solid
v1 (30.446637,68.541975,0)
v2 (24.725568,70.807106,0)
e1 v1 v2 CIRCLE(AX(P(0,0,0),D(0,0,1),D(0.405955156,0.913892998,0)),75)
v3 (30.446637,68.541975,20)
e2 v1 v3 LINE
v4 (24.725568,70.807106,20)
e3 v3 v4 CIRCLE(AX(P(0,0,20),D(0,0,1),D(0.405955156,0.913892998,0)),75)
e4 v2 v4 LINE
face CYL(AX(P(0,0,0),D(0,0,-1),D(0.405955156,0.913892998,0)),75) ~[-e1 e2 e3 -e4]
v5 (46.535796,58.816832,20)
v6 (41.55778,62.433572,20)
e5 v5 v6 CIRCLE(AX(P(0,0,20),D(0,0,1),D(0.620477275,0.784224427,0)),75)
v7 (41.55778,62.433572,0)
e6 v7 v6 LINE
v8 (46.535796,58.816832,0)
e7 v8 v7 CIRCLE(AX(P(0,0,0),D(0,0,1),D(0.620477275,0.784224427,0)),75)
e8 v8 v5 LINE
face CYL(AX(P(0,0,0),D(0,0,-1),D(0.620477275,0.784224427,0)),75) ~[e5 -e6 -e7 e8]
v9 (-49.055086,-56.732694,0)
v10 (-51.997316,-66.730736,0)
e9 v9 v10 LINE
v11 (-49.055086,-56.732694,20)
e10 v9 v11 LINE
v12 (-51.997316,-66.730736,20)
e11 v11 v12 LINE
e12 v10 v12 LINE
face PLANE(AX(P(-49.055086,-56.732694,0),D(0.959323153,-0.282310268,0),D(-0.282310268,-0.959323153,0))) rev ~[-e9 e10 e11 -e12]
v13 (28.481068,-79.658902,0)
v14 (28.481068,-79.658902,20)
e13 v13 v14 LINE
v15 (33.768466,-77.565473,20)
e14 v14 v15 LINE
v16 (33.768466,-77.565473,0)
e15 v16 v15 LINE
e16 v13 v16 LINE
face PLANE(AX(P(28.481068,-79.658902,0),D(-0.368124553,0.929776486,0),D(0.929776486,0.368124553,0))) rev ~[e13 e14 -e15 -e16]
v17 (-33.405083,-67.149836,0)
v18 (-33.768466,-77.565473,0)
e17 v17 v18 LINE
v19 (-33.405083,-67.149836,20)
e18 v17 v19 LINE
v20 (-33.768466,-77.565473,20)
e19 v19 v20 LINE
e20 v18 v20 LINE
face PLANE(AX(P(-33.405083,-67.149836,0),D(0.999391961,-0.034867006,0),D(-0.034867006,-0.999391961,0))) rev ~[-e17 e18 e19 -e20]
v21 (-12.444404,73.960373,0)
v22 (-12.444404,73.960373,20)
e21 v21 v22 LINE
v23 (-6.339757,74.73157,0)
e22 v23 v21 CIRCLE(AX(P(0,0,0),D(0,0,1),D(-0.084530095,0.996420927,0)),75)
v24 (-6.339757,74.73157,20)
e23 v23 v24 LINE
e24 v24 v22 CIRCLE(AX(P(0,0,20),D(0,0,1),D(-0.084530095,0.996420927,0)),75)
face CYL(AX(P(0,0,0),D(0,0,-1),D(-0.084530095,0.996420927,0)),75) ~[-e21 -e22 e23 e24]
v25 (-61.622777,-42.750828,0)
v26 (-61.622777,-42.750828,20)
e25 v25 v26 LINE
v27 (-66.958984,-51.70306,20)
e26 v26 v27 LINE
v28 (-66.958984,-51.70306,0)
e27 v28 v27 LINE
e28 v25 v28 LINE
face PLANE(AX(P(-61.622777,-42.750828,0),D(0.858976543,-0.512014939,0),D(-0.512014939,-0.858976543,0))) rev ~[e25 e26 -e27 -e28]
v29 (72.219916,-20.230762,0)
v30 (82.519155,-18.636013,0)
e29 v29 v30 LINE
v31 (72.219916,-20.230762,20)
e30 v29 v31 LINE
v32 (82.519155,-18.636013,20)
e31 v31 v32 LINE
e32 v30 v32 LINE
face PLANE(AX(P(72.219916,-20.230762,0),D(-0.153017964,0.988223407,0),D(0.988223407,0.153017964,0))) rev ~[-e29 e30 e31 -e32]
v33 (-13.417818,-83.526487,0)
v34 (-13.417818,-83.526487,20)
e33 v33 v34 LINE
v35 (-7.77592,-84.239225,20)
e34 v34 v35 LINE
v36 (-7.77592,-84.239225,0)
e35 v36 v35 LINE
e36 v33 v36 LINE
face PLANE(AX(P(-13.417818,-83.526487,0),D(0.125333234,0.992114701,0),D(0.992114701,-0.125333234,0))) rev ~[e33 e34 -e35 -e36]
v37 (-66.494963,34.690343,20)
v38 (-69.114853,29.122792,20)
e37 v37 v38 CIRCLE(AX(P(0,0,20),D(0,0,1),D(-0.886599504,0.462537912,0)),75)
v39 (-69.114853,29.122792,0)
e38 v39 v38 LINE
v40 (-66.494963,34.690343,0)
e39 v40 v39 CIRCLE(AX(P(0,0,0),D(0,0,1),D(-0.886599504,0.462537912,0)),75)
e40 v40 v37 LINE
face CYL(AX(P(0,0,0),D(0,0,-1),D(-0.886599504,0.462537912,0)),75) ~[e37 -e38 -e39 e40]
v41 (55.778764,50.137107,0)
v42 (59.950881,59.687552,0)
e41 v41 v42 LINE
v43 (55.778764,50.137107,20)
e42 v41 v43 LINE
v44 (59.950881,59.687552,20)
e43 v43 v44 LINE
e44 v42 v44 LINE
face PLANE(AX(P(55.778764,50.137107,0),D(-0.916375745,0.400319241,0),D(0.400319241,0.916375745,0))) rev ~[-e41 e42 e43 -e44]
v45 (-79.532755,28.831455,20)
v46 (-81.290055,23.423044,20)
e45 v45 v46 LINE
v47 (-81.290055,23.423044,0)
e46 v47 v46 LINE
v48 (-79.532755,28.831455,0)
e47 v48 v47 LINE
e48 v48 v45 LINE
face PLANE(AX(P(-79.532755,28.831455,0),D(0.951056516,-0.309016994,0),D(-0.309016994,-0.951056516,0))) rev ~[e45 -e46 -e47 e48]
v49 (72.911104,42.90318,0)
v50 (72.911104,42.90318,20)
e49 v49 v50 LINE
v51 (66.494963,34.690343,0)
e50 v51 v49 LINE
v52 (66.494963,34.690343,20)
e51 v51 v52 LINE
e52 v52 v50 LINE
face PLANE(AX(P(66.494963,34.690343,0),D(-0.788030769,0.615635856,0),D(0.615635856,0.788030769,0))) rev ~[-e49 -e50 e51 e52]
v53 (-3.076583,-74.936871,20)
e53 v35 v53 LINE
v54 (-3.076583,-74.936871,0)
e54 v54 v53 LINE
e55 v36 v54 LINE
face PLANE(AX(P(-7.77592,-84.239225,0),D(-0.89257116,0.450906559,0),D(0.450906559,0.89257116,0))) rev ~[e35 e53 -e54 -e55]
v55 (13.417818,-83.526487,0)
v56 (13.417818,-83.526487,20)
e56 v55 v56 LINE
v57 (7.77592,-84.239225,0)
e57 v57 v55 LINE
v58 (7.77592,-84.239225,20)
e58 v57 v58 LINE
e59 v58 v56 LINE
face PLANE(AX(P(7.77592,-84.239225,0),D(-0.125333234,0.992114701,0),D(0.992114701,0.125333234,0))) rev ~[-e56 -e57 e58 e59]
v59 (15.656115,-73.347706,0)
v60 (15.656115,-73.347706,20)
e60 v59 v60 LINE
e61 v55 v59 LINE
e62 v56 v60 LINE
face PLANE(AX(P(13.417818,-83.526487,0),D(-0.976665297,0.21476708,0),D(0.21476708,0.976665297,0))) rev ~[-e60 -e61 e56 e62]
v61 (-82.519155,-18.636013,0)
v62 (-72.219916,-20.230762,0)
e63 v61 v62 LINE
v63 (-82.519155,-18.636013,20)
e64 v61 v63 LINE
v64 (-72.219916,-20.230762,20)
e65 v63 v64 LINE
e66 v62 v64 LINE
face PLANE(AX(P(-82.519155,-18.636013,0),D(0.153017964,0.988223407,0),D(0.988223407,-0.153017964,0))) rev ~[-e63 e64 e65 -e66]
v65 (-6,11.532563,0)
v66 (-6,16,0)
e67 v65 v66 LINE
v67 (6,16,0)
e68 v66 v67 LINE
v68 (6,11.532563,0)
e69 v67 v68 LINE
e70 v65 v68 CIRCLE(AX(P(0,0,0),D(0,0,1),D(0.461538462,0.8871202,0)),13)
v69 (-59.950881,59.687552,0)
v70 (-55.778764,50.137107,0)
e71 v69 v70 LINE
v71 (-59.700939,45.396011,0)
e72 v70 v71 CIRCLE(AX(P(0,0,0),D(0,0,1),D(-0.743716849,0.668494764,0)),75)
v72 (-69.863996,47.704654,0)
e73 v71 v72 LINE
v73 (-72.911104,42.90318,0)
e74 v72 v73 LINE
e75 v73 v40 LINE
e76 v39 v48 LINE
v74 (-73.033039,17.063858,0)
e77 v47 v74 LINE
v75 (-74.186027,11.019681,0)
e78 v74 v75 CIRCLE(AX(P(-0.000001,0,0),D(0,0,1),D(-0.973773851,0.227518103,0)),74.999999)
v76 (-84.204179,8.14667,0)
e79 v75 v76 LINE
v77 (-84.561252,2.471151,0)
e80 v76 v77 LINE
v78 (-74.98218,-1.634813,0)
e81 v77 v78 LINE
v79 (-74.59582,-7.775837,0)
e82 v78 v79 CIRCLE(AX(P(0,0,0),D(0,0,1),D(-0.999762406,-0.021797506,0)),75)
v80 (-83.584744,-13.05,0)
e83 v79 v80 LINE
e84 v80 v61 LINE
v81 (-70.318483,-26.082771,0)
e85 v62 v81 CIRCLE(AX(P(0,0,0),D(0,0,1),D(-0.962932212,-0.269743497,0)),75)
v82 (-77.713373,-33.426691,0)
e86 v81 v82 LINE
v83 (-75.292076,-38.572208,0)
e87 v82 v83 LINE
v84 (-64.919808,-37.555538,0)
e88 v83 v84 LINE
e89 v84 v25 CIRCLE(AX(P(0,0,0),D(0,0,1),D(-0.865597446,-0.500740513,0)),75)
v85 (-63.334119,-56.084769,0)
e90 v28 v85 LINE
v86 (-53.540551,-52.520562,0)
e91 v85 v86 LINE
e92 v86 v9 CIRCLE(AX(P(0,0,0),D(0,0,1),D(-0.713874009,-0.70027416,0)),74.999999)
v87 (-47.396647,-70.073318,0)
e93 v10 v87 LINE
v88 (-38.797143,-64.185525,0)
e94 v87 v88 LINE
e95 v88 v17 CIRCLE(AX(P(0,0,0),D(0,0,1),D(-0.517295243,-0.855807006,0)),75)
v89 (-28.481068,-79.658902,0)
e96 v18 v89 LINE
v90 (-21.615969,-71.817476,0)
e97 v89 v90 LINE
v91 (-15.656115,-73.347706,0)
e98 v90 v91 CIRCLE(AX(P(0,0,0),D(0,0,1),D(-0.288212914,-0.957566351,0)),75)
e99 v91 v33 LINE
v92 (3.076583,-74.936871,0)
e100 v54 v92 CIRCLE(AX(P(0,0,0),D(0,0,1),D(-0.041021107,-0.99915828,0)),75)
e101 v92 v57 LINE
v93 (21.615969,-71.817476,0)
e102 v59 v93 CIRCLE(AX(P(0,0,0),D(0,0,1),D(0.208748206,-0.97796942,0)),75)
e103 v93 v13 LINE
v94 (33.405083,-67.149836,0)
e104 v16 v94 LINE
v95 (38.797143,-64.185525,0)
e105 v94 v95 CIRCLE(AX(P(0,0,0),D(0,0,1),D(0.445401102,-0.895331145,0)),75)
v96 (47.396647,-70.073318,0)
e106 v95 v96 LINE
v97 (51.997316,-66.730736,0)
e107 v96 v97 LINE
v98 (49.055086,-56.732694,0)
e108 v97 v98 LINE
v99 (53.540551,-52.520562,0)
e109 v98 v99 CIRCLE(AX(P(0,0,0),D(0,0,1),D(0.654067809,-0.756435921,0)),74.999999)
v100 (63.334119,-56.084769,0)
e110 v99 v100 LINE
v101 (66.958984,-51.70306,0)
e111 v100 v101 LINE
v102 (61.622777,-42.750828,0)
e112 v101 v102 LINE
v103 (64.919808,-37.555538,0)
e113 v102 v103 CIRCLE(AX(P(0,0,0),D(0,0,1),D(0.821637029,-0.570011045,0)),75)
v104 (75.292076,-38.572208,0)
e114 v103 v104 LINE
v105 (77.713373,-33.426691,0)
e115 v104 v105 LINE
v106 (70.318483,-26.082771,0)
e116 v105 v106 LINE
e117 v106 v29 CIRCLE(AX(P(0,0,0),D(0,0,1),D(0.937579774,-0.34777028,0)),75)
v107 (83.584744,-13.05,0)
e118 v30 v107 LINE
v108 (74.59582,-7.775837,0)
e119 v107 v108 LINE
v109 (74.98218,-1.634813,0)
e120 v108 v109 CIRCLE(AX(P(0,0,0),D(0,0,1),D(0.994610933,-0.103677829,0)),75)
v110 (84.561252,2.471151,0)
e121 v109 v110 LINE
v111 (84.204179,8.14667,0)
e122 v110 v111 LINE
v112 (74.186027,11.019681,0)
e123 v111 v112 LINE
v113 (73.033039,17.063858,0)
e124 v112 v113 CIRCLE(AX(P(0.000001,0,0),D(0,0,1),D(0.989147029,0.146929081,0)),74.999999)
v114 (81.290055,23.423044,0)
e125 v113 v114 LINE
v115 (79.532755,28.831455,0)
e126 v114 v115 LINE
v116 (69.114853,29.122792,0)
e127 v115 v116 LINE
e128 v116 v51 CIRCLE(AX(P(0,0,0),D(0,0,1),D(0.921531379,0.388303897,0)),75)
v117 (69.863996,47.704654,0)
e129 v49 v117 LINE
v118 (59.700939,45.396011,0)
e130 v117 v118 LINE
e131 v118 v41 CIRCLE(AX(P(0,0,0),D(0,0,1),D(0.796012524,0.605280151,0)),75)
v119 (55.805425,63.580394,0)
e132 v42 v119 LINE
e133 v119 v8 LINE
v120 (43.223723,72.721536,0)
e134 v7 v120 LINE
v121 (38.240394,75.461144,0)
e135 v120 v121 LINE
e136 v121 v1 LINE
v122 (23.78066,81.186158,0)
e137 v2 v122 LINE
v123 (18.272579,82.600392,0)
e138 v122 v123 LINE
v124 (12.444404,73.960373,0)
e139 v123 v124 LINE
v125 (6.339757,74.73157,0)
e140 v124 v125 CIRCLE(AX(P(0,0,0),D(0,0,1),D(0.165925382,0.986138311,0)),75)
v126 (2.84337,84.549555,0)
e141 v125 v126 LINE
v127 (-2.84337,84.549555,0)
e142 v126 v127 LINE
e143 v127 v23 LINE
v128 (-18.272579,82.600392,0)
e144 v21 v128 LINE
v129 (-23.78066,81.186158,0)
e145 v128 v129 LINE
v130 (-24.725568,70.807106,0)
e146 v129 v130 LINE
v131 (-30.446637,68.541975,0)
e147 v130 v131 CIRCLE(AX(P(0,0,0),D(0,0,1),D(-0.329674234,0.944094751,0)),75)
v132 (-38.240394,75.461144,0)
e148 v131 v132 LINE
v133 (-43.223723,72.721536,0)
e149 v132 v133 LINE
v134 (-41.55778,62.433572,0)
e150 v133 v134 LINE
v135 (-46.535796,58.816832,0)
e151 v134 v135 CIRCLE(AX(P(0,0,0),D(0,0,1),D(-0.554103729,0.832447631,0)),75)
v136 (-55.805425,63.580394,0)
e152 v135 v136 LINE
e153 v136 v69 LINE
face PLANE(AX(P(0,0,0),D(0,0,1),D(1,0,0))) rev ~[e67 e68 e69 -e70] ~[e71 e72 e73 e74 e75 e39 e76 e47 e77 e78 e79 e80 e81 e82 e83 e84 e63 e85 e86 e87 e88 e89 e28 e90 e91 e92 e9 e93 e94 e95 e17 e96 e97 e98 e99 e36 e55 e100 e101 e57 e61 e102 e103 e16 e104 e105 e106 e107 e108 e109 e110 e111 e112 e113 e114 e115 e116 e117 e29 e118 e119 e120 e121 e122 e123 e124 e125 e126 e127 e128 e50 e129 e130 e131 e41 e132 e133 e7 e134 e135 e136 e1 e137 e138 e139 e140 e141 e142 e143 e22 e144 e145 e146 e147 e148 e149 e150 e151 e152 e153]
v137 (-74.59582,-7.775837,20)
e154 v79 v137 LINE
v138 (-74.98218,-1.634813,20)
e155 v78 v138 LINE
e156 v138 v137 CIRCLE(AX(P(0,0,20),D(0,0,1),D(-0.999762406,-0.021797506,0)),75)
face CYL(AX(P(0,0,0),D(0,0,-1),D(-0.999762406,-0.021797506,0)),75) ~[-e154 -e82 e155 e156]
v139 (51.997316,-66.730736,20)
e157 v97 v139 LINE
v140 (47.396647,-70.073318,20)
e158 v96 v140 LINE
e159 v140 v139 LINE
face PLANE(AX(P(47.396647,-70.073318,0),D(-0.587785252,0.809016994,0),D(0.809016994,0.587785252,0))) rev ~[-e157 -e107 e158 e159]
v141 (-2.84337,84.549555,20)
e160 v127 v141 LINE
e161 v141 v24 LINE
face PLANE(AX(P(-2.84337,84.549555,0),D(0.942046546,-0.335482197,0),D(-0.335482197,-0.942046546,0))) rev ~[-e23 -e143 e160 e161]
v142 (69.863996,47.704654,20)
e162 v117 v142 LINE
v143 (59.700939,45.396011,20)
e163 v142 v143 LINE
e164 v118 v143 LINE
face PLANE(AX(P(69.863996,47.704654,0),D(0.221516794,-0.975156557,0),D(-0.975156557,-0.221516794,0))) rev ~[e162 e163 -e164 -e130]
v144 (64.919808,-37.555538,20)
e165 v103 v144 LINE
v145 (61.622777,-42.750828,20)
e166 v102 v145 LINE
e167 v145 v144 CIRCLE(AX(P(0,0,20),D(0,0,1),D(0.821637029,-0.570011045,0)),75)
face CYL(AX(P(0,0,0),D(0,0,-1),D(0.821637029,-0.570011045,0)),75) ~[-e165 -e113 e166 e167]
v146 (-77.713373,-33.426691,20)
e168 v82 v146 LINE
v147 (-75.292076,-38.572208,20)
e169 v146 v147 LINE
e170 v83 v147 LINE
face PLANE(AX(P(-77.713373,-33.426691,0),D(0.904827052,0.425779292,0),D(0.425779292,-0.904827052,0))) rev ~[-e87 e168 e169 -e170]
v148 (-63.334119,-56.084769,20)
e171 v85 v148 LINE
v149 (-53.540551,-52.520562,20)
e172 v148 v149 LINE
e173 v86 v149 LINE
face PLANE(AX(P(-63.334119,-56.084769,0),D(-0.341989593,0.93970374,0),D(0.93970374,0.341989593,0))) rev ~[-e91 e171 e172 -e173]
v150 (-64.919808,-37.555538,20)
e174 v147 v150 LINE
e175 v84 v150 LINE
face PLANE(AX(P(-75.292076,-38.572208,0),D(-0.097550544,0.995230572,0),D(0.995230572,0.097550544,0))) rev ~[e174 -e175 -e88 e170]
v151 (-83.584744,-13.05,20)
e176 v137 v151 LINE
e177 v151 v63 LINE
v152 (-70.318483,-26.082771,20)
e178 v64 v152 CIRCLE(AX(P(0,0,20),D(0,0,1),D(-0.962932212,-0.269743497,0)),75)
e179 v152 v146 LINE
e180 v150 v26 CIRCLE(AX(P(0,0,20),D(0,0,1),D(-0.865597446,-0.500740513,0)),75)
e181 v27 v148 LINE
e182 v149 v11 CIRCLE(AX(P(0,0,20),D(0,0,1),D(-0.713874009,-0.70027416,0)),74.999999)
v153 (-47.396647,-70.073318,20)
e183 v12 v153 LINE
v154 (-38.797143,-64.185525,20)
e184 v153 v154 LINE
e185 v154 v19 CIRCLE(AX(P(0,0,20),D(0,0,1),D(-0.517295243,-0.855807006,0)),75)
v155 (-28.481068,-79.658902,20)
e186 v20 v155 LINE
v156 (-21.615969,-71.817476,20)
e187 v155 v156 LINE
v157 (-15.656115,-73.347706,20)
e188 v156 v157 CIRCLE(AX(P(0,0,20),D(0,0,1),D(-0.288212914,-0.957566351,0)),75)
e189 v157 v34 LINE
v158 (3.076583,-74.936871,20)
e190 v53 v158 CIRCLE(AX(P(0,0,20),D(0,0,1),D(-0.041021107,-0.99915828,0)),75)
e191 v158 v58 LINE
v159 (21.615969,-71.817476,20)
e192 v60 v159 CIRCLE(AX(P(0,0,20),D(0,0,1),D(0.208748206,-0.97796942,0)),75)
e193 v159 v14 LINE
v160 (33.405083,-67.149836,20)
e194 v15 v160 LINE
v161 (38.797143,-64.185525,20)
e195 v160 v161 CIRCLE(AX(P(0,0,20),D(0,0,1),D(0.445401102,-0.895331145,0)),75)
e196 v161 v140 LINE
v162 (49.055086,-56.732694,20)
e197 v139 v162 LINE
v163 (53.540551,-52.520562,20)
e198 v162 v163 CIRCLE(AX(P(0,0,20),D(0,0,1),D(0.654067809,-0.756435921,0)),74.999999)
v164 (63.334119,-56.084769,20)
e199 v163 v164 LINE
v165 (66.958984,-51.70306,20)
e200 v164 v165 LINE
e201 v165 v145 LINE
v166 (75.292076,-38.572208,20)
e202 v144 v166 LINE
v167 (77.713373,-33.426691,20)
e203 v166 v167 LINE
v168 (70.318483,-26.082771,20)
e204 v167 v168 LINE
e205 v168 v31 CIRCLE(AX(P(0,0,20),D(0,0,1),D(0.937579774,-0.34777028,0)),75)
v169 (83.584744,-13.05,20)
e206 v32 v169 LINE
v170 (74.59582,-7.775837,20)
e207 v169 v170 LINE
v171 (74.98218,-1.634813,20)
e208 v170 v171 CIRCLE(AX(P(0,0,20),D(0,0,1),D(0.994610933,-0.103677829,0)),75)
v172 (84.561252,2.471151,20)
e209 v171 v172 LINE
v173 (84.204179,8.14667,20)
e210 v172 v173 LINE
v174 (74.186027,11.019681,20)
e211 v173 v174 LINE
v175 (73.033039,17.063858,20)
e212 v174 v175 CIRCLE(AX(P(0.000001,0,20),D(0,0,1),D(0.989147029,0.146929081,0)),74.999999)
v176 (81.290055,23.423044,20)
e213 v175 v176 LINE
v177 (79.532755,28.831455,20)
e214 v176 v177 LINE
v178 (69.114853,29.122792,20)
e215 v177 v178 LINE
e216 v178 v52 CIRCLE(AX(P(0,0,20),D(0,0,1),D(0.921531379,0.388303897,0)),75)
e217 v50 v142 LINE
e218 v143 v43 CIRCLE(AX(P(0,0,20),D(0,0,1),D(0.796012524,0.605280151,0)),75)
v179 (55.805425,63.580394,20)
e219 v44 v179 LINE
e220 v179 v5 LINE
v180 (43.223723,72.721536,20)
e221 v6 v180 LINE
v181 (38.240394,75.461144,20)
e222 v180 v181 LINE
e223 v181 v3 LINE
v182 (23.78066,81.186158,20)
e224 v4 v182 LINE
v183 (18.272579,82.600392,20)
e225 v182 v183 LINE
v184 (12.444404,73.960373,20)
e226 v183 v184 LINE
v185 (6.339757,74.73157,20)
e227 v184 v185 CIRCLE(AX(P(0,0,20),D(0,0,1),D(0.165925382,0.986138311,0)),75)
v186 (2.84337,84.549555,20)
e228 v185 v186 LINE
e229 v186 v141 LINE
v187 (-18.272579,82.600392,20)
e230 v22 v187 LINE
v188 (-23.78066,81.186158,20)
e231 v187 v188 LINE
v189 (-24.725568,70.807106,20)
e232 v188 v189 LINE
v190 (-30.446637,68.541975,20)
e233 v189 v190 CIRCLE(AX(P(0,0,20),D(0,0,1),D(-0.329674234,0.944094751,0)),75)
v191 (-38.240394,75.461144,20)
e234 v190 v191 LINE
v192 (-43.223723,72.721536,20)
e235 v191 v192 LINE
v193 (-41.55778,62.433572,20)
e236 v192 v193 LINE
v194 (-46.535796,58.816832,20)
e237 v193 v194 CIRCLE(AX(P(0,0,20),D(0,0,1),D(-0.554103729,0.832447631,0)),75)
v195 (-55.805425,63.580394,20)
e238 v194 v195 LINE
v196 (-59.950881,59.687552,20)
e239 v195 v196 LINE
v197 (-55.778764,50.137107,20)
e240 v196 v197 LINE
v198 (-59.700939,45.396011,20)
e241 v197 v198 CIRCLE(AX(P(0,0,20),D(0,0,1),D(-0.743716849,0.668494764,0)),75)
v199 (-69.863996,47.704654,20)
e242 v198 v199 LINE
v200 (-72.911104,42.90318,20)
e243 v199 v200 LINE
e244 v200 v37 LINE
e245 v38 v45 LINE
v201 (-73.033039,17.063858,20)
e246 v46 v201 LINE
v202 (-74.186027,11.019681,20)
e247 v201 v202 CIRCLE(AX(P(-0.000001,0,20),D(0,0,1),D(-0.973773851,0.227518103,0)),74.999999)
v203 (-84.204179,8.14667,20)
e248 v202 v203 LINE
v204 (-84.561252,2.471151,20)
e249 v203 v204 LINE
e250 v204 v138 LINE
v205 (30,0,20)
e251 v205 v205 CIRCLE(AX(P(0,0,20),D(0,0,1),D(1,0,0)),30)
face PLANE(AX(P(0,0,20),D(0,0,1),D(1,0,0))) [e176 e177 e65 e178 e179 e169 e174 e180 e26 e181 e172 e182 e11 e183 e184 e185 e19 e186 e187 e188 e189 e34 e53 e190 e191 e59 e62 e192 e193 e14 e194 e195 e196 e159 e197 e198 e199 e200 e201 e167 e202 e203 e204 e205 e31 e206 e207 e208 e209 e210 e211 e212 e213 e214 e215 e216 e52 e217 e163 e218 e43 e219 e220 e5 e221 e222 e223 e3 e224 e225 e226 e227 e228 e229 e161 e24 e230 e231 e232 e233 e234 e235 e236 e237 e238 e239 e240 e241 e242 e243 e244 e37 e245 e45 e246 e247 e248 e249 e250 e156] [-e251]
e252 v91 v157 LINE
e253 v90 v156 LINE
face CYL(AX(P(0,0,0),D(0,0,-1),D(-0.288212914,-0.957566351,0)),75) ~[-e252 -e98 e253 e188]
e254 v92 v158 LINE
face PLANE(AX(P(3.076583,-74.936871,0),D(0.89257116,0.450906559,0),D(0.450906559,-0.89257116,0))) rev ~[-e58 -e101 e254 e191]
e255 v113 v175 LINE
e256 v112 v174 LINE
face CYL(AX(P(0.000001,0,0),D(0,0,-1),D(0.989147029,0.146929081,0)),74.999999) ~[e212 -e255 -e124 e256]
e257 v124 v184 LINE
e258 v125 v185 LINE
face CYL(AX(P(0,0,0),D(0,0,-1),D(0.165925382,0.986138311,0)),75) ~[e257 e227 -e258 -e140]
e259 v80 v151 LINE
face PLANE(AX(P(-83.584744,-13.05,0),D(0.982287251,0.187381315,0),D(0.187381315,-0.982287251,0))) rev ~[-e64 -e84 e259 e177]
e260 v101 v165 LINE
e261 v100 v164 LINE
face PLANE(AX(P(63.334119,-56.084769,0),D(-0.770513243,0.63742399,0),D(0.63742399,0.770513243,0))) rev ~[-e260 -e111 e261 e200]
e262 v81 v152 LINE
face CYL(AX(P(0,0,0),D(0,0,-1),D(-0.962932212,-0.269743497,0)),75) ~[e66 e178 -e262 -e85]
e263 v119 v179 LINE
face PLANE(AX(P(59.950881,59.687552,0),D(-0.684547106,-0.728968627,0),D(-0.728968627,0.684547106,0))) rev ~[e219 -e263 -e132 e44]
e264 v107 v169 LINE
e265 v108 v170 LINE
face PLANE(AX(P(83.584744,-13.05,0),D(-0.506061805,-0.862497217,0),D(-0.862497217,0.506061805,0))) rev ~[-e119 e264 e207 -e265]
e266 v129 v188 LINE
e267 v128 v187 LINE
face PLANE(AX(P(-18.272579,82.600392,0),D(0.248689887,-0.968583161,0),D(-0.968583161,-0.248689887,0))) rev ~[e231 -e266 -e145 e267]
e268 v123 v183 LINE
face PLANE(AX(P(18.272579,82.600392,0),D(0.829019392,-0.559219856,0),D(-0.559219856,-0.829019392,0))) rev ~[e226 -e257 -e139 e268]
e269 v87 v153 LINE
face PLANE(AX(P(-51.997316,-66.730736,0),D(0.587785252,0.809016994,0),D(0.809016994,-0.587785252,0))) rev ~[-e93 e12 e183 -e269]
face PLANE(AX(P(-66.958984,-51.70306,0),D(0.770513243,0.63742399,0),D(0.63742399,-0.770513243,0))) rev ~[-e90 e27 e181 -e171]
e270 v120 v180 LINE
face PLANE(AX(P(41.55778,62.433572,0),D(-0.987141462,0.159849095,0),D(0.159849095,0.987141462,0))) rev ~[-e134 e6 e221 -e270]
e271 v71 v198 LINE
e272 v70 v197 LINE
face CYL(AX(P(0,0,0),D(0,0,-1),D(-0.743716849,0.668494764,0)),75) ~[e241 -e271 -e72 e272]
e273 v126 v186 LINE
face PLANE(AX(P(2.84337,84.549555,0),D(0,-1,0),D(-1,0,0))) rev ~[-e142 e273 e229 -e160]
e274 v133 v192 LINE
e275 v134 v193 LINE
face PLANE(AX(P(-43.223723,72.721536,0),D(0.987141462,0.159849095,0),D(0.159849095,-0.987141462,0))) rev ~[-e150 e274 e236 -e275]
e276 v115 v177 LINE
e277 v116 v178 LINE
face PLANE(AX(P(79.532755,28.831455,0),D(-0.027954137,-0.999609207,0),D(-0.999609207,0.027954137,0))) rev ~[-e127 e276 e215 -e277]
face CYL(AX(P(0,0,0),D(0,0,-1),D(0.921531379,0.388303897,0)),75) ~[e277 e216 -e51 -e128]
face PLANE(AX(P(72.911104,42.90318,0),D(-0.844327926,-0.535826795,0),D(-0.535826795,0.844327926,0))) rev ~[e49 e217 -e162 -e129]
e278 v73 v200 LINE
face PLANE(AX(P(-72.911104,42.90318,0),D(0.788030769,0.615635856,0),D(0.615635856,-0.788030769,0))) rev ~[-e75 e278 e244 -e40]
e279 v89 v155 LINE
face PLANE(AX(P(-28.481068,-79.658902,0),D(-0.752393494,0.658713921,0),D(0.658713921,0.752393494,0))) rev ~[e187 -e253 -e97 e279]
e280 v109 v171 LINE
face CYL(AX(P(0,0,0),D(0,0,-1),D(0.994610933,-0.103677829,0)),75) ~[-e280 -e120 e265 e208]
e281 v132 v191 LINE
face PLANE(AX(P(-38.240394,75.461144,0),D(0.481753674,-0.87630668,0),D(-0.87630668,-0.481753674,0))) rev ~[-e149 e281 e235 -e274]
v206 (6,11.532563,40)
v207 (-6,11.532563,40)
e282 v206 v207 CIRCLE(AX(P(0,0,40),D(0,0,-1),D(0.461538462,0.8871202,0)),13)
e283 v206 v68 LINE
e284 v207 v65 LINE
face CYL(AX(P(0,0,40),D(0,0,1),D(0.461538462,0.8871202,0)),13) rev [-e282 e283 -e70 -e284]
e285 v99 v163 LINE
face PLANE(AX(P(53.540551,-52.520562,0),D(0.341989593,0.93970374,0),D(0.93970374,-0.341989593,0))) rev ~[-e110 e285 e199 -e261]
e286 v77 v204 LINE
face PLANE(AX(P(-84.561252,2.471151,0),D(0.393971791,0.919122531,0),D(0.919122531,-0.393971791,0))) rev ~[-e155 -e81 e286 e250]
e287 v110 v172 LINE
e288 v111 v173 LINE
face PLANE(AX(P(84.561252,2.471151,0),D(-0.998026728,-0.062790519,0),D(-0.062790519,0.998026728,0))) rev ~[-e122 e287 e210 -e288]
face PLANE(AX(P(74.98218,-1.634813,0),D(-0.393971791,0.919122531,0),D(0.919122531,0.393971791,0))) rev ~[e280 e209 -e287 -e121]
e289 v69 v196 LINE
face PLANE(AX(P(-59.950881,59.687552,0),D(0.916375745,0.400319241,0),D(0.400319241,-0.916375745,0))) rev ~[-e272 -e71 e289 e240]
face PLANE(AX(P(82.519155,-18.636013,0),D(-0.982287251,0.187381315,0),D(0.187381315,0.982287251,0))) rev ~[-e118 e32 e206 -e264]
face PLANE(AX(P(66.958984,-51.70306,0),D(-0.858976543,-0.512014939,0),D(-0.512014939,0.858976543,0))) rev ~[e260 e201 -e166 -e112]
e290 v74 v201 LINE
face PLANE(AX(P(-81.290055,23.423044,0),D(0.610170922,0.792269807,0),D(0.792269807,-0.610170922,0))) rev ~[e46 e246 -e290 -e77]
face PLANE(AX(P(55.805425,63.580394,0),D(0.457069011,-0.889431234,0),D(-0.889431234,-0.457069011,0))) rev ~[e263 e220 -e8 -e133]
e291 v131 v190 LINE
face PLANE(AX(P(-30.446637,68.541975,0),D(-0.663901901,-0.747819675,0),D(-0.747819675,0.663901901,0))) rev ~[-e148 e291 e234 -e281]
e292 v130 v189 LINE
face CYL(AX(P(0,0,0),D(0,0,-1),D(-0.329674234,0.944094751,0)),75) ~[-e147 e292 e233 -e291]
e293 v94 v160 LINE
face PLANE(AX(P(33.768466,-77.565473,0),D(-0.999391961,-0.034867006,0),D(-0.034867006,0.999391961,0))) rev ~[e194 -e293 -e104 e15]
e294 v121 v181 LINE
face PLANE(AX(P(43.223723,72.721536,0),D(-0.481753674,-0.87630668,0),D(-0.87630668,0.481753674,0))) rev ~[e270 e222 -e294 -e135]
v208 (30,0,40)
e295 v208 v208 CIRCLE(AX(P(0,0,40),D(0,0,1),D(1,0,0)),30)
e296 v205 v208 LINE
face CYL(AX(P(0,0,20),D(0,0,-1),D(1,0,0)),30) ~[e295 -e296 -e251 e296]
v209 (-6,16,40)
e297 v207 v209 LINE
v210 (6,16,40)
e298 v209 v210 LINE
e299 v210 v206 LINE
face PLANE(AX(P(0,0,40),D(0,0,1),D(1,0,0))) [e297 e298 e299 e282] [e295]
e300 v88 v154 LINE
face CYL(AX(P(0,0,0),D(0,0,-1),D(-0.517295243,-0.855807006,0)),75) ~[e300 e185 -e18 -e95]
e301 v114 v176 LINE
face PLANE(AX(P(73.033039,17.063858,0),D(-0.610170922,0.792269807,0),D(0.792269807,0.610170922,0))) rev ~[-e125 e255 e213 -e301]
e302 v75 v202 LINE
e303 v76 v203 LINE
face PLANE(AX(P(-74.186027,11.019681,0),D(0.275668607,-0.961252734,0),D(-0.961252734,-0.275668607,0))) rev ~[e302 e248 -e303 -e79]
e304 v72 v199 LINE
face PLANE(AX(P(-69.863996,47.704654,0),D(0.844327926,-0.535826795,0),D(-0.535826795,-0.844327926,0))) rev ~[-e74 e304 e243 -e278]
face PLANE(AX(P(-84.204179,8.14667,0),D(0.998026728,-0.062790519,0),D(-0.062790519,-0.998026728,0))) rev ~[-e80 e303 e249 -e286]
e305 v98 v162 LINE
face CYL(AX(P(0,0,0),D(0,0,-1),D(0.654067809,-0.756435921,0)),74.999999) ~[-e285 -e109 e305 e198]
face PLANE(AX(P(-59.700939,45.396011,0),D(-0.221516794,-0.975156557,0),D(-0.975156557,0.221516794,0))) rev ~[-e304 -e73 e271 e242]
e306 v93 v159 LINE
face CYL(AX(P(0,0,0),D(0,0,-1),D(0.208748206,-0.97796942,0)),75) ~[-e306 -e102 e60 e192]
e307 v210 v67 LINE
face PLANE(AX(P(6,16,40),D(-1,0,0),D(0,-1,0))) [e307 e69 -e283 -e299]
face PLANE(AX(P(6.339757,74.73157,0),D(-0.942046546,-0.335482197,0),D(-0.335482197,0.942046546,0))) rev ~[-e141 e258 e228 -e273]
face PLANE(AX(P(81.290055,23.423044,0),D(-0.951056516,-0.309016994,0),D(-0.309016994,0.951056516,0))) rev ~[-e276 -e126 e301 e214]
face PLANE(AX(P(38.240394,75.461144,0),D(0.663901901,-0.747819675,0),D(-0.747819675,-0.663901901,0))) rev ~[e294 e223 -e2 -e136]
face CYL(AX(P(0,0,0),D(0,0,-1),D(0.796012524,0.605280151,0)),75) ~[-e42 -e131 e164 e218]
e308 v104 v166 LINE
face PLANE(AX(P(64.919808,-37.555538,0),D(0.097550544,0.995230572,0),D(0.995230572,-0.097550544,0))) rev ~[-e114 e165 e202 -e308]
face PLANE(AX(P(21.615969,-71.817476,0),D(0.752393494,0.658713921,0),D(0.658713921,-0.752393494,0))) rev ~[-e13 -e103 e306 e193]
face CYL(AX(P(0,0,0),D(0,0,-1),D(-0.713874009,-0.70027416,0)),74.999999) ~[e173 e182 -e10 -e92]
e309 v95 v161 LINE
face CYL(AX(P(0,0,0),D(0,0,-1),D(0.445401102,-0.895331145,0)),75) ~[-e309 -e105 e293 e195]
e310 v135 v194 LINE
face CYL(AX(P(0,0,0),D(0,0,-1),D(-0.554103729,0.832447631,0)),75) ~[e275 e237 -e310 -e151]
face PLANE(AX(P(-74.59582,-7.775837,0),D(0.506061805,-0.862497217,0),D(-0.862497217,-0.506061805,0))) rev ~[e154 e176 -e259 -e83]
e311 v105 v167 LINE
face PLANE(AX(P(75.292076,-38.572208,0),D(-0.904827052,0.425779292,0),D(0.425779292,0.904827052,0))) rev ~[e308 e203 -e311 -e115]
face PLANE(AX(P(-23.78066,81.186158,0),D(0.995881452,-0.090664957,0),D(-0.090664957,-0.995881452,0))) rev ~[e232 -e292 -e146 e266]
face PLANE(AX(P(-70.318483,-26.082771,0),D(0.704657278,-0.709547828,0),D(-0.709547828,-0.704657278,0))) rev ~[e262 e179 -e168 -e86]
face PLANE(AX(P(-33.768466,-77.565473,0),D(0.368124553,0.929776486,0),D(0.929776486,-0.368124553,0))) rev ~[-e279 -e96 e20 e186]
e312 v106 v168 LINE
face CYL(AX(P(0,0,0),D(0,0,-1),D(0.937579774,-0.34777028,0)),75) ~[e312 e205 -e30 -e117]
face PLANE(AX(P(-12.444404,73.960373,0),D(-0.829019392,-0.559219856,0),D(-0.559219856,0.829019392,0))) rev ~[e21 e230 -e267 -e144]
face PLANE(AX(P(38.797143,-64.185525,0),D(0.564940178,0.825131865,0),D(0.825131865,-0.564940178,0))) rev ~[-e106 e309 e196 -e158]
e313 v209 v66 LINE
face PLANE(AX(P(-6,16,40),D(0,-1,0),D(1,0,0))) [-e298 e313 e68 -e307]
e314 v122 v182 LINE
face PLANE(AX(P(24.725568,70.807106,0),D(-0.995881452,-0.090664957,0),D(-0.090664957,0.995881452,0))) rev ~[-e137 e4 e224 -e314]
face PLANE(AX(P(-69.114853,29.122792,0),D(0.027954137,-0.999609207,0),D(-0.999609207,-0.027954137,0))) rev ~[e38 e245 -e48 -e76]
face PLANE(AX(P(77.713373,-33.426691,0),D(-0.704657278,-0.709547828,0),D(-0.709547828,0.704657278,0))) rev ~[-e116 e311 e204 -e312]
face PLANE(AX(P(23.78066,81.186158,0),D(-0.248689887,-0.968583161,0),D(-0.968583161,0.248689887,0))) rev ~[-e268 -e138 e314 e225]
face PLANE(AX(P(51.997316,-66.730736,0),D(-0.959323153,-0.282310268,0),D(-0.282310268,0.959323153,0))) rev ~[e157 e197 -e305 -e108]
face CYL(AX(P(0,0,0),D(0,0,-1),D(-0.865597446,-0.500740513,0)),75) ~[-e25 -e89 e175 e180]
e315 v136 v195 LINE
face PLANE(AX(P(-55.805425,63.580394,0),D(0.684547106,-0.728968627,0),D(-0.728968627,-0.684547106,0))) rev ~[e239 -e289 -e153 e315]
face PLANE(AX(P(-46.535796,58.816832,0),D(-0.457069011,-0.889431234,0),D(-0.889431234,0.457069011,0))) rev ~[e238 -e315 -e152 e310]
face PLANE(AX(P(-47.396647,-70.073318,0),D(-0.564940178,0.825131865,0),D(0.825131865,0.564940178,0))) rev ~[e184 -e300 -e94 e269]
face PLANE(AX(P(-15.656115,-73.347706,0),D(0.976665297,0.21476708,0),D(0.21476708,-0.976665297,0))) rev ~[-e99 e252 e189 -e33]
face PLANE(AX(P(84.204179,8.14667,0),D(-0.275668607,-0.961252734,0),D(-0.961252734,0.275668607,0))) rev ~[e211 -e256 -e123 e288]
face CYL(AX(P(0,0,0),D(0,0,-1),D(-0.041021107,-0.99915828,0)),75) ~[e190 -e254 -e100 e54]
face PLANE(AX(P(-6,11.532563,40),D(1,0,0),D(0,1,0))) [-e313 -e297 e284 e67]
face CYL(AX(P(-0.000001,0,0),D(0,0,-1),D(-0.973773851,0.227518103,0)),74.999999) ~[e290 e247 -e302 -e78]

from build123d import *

# Parameters (mm, degrees)
BOSS_EXTRUDE1_DEPTH = 20
SKETCH3_R           = 30
BOSS_EXTRUDE2_DEPTH = 20
CUT_EXTRUDE1_DEPTH  = 127.092159028


with BuildPart() as part:
    # Sketch1 → Boss-Extrude1 (new body)
    with BuildSketch(Plane.XY):
        with BuildLine():
            Line((6.339757092, 74.731569501), (2.843370149, 84.549554706))
            Line((2.843370149, 84.549554706), (-2.843370149, 84.549554706))
            Line((-2.843370149, 84.549554706), (-6.339757092, 74.731569501))
            ThreePointArc((-6.339757092, 74.731569501), (-9.399992517, 74.408602599), (-12.444403622, 73.960373299))
            Line((-12.444403622, 73.960373299), (-18.272578772, 82.600392371))
            Line((-18.272578772, 82.600392371), (-23.780659667, 81.186157568))
            Line((-23.780659667, 81.186157568), (-24.725567552, 70.807106347))
            ThreePointArc((-24.725567552, 70.807106347), (-27.609341451, 69.733236442), (-30.446636689, 68.541974836))
            Line((-30.446636689, 68.541974836), (-38.240394368, 75.4611436))
            Line((-38.240394368, 75.4611436), (-43.223722879, 72.721535567))
            Line((-43.223722879, 72.721535567), (-41.557779668, 62.433572291))
            ThreePointArc((-41.557779668, 62.433572291), (-44.083893922, 60.676274578), (-46.535795597, 58.816832014))
            Line((-46.535795597, 58.816832014), (-55.805425347, 63.58039365))
            Line((-55.805425347, 63.58039365), (-59.950880617, 59.687552036))
            Line((-59.950880617, 59.687552036), (-55.778763649, 50.137107274))
            ThreePointArc((-55.778763649, 50.137107274), (-57.788493208, 47.806799231), (-59.700939322, 45.396011323))
            Line((-59.700939322, 45.396011323), (-69.863996213, 47.704653735))
            Line((-69.863996213, 47.704653735), (-72.911104041, 42.903180095))
            Line((-72.911104041, 42.903180095), (-66.49496277, 34.690343415))
            ThreePointArc((-66.49496277, 34.690343415), (-67.862028935, 31.933446867), (-69.114853465, 29.122792286))
            Line((-69.114853465, 29.122792286), (-79.532755256, 28.83145498))
            Line((-79.532755256, 28.83145498), (-81.290054651, 23.423043562))
            Line((-81.290054651, 23.423043562), (-73.033038828, 17.063857698))
            ThreePointArc((-73.033038828, 17.063857698), (-73.671543805, 14.053598594), (-74.186027177, 11.019681104))
            Line((-74.186027177, 11.019681104), (-84.204178785, 8.146669874))
            Line((-84.204178785, 8.146669874), (-84.561252162, 2.471151058))
            Line((-84.561252162, 2.471151058), (-74.98218046, -1.634812956))
            ThreePointArc((-74.98218046, -1.634812956), (-74.852004632, -4.709288965), (-74.595819965, -7.77583717))
            Line((-74.595819965, -7.77583717), (-83.584744079, -13.050000462))
            Line((-83.584744079, -13.050000462), (-82.519155206, -18.636012955))
            Line((-82.519155206, -18.636012955), (-72.219915929, -20.230762298))
            ThreePointArc((-72.219915929, -20.230762298), (-71.329238722, -23.176274578), (-70.318483041, -26.082770996))
            Line((-70.318483041, -26.082770996), (-77.7133725, -33.426691274))
            Line((-77.7133725, -33.426691274), (-75.292076244, -38.572207736))
            Line((-75.292076244, -38.572207736), (-64.919808474, -37.555538443))
            ThreePointArc((-64.919808474, -37.555538443), (-63.324594413, -40.187009623), (-61.622777213, -42.750828396))
            Line((-61.622777213, -42.750828396), (-66.958983917, -51.703060138))
            Line((-66.958983917, -51.703060138), (-63.334119227, -56.084768847))
            Line((-63.334119227, -56.084768847), (-53.540550694, -52.520561987))
            ThreePointArc((-53.540550694, -52.520561987), (-51.341032945, -54.672647057), (-49.055085661, -56.73269402))
            Line((-49.055085661, -56.73269402), (-51.997316116, -66.730735583))
            Line((-51.997316116, -66.730735583), (-47.396646572, -70.073317665))
            Line((-47.396646572, -70.073317665), (-38.797143205, -64.185525464))
            ThreePointArc((-38.797143205, -64.185525464), (-36.131525558, -65.723001003), (-33.405082664, -67.149835831))
            Line((-33.405082664, -67.149835831), (-33.768465712, -77.565473494))
            Line((-33.768465712, -77.565473494), (-28.4810683, -79.658902223))
            Line((-28.4810683, -79.658902223), (-21.615968523, -71.817476319))
            ThreePointArc((-21.615968523, -71.817476319), (-18.651741537, -72.643737085), (-15.656115469, -73.347706497))
            Line((-15.656115469, -73.347706497), (-13.417818414, -83.526487439))
            Line((-13.417818414, -83.526487439), (-7.775919761, -84.239224989))
            Line((-7.775919761, -84.239224989), (-3.076583041, -74.93687101))
            ThreePointArc((-3.076583041, -74.93687101), (0, -75), (3.076583041, -74.93687101))
            Line((3.076583041, -74.93687101), (7.775919761, -84.239224989))
            Line((7.775919761, -84.239224989), (13.417818414, -83.526487439))
            Line((13.417818414, -83.526487439), (15.656115469, -73.347706497))
            ThreePointArc((15.656115469, -73.347706497), (18.651741537, -72.643737085), (21.615968523, -71.817476319))
            Line((21.615968523, -71.817476319), (28.4810683, -79.658902223))
            Line((28.4810683, -79.658902223), (33.768465712, -77.565473494))
            Line((33.768465712, -77.565473494), (33.405082664, -67.149835831))
            ThreePointArc((33.405082664, -67.149835831), (36.131525558, -65.723001003), (38.797143205, -64.185525464))
            Line((38.797143205, -64.185525464), (47.396646572, -70.073317665))
            Line((47.396646572, -70.073317665), (51.997316116, -66.730735583))
            Line((51.997316116, -66.730735583), (49.055085661, -56.73269402))
            ThreePointArc((49.055085661, -56.73269402), (51.341032945, -54.672647057), (53.540550694, -52.520561987))
            Line((53.540550694, -52.520561987), (63.334119227, -56.084768847))
            Line((63.334119227, -56.084768847), (66.958983917, -51.703060138))
            Line((66.958983917, -51.703060138), (61.622777213, -42.750828396))
            ThreePointArc((61.622777213, -42.750828396), (63.324594413, -40.187009623), (64.919808474, -37.555538443))
            Line((64.919808474, -37.555538443), (75.292076244, -38.572207736))
            Line((75.292076244, -38.572207736), (77.7133725, -33.426691274))
            Line((77.7133725, -33.426691274), (70.318483041, -26.082770996))
            ThreePointArc((70.318483041, -26.082770996), (71.329238722, -23.176274578), (72.219915929, -20.230762298))
            Line((72.219915929, -20.230762298), (82.519155206, -18.636012955))
            Line((82.519155206, -18.636012955), (83.584744079, -13.050000462))
            Line((83.584744079, -13.050000462), (74.595819965, -7.77583717))
            ThreePointArc((74.595819965, -7.77583717), (74.852004632, -4.709288965), (74.98218046, -1.634812956))
            Line((74.98218046, -1.634812956), (84.561252162, 2.471151058))
            Line((84.561252162, 2.471151058), (84.204178785, 8.146669874))
            Line((84.204178785, 8.146669874), (74.186027177, 11.019681104))
            ThreePointArc((74.186027177, 11.019681104), (73.671543805, 14.053598594), (73.033038828, 17.063857698))
            Line((73.033038828, 17.063857698), (81.290054651, 23.423043562))
            Line((81.290054651, 23.423043562), (79.532755256, 28.83145498))
            Line((79.532755256, 28.83145498), (69.114853465, 29.122792286))
            ThreePointArc((69.114853465, 29.122792286), (67.862028935, 31.933446867), (66.49496277, 34.690343415))
            Line((66.49496277, 34.690343415), (72.911104041, 42.903180095))
            Line((72.911104041, 42.903180095), (69.863996213, 47.704653735))
            Line((69.863996213, 47.704653735), (59.700939322, 45.396011323))
            ThreePointArc((59.700939322, 45.396011323), (57.788493208, 47.806799231), (55.778763649, 50.137107274))
            Line((55.778763649, 50.137107274), (59.950880617, 59.687552036))
            Line((59.950880617, 59.687552036), (55.805425347, 63.58039365))
            Line((55.805425347, 63.58039365), (46.535795597, 58.816832014))
            ThreePointArc((46.535795597, 58.816832014), (44.083893922, 60.676274578), (41.557779668, 62.433572291))
            Line((41.557779668, 62.433572291), (43.223722879, 72.721535567))
            Line((43.223722879, 72.721535567), (38.240394368, 75.4611436))
            Line((38.240394368, 75.4611436), (30.446636689, 68.541974836))
            ThreePointArc((30.446636689, 68.541974836), (27.609341451, 69.733236442), (24.725567552, 70.807106347))
            Line((24.725567552, 70.807106347), (23.780659667, 81.186157568))
            Line((23.780659667, 81.186157568), (18.272578772, 82.600392371))
            Line((18.272578772, 82.600392371), (12.444403622, 73.960373299))
            ThreePointArc((12.444403622, 73.960373299), (9.399992517, 74.408602599), (6.339757092, 74.731569501))
        make_face()
    extrude(amount=BOSS_EXTRUDE1_DEPTH)

    # Sketch3 → Boss-Extrude2 (add)
    with BuildSketch(Plane.XY.offset(20)):
        Circle(SKETCH3_R)
    extrude(amount=BOSS_EXTRUDE2_DEPTH)

    # Sketch4 → Cut-Extrude1 (cut, through all)
    with BuildSketch(Plane.XY.offset(40)):
        with BuildLine():
            Line((-6, 16), (6, 16))
            Line((6, 16), (6, 11.532562595))
            ThreePointArc((6, 11.532562595), (0, -13), (-6, 11.532562595))
            Line((-6, 11.532562595), (-6, 16))
        make_face()
    extrude(amount=-CUT_EXTRUDE1_DEPTH, mode=Mode.SUBTRACT)


solid = part.part
